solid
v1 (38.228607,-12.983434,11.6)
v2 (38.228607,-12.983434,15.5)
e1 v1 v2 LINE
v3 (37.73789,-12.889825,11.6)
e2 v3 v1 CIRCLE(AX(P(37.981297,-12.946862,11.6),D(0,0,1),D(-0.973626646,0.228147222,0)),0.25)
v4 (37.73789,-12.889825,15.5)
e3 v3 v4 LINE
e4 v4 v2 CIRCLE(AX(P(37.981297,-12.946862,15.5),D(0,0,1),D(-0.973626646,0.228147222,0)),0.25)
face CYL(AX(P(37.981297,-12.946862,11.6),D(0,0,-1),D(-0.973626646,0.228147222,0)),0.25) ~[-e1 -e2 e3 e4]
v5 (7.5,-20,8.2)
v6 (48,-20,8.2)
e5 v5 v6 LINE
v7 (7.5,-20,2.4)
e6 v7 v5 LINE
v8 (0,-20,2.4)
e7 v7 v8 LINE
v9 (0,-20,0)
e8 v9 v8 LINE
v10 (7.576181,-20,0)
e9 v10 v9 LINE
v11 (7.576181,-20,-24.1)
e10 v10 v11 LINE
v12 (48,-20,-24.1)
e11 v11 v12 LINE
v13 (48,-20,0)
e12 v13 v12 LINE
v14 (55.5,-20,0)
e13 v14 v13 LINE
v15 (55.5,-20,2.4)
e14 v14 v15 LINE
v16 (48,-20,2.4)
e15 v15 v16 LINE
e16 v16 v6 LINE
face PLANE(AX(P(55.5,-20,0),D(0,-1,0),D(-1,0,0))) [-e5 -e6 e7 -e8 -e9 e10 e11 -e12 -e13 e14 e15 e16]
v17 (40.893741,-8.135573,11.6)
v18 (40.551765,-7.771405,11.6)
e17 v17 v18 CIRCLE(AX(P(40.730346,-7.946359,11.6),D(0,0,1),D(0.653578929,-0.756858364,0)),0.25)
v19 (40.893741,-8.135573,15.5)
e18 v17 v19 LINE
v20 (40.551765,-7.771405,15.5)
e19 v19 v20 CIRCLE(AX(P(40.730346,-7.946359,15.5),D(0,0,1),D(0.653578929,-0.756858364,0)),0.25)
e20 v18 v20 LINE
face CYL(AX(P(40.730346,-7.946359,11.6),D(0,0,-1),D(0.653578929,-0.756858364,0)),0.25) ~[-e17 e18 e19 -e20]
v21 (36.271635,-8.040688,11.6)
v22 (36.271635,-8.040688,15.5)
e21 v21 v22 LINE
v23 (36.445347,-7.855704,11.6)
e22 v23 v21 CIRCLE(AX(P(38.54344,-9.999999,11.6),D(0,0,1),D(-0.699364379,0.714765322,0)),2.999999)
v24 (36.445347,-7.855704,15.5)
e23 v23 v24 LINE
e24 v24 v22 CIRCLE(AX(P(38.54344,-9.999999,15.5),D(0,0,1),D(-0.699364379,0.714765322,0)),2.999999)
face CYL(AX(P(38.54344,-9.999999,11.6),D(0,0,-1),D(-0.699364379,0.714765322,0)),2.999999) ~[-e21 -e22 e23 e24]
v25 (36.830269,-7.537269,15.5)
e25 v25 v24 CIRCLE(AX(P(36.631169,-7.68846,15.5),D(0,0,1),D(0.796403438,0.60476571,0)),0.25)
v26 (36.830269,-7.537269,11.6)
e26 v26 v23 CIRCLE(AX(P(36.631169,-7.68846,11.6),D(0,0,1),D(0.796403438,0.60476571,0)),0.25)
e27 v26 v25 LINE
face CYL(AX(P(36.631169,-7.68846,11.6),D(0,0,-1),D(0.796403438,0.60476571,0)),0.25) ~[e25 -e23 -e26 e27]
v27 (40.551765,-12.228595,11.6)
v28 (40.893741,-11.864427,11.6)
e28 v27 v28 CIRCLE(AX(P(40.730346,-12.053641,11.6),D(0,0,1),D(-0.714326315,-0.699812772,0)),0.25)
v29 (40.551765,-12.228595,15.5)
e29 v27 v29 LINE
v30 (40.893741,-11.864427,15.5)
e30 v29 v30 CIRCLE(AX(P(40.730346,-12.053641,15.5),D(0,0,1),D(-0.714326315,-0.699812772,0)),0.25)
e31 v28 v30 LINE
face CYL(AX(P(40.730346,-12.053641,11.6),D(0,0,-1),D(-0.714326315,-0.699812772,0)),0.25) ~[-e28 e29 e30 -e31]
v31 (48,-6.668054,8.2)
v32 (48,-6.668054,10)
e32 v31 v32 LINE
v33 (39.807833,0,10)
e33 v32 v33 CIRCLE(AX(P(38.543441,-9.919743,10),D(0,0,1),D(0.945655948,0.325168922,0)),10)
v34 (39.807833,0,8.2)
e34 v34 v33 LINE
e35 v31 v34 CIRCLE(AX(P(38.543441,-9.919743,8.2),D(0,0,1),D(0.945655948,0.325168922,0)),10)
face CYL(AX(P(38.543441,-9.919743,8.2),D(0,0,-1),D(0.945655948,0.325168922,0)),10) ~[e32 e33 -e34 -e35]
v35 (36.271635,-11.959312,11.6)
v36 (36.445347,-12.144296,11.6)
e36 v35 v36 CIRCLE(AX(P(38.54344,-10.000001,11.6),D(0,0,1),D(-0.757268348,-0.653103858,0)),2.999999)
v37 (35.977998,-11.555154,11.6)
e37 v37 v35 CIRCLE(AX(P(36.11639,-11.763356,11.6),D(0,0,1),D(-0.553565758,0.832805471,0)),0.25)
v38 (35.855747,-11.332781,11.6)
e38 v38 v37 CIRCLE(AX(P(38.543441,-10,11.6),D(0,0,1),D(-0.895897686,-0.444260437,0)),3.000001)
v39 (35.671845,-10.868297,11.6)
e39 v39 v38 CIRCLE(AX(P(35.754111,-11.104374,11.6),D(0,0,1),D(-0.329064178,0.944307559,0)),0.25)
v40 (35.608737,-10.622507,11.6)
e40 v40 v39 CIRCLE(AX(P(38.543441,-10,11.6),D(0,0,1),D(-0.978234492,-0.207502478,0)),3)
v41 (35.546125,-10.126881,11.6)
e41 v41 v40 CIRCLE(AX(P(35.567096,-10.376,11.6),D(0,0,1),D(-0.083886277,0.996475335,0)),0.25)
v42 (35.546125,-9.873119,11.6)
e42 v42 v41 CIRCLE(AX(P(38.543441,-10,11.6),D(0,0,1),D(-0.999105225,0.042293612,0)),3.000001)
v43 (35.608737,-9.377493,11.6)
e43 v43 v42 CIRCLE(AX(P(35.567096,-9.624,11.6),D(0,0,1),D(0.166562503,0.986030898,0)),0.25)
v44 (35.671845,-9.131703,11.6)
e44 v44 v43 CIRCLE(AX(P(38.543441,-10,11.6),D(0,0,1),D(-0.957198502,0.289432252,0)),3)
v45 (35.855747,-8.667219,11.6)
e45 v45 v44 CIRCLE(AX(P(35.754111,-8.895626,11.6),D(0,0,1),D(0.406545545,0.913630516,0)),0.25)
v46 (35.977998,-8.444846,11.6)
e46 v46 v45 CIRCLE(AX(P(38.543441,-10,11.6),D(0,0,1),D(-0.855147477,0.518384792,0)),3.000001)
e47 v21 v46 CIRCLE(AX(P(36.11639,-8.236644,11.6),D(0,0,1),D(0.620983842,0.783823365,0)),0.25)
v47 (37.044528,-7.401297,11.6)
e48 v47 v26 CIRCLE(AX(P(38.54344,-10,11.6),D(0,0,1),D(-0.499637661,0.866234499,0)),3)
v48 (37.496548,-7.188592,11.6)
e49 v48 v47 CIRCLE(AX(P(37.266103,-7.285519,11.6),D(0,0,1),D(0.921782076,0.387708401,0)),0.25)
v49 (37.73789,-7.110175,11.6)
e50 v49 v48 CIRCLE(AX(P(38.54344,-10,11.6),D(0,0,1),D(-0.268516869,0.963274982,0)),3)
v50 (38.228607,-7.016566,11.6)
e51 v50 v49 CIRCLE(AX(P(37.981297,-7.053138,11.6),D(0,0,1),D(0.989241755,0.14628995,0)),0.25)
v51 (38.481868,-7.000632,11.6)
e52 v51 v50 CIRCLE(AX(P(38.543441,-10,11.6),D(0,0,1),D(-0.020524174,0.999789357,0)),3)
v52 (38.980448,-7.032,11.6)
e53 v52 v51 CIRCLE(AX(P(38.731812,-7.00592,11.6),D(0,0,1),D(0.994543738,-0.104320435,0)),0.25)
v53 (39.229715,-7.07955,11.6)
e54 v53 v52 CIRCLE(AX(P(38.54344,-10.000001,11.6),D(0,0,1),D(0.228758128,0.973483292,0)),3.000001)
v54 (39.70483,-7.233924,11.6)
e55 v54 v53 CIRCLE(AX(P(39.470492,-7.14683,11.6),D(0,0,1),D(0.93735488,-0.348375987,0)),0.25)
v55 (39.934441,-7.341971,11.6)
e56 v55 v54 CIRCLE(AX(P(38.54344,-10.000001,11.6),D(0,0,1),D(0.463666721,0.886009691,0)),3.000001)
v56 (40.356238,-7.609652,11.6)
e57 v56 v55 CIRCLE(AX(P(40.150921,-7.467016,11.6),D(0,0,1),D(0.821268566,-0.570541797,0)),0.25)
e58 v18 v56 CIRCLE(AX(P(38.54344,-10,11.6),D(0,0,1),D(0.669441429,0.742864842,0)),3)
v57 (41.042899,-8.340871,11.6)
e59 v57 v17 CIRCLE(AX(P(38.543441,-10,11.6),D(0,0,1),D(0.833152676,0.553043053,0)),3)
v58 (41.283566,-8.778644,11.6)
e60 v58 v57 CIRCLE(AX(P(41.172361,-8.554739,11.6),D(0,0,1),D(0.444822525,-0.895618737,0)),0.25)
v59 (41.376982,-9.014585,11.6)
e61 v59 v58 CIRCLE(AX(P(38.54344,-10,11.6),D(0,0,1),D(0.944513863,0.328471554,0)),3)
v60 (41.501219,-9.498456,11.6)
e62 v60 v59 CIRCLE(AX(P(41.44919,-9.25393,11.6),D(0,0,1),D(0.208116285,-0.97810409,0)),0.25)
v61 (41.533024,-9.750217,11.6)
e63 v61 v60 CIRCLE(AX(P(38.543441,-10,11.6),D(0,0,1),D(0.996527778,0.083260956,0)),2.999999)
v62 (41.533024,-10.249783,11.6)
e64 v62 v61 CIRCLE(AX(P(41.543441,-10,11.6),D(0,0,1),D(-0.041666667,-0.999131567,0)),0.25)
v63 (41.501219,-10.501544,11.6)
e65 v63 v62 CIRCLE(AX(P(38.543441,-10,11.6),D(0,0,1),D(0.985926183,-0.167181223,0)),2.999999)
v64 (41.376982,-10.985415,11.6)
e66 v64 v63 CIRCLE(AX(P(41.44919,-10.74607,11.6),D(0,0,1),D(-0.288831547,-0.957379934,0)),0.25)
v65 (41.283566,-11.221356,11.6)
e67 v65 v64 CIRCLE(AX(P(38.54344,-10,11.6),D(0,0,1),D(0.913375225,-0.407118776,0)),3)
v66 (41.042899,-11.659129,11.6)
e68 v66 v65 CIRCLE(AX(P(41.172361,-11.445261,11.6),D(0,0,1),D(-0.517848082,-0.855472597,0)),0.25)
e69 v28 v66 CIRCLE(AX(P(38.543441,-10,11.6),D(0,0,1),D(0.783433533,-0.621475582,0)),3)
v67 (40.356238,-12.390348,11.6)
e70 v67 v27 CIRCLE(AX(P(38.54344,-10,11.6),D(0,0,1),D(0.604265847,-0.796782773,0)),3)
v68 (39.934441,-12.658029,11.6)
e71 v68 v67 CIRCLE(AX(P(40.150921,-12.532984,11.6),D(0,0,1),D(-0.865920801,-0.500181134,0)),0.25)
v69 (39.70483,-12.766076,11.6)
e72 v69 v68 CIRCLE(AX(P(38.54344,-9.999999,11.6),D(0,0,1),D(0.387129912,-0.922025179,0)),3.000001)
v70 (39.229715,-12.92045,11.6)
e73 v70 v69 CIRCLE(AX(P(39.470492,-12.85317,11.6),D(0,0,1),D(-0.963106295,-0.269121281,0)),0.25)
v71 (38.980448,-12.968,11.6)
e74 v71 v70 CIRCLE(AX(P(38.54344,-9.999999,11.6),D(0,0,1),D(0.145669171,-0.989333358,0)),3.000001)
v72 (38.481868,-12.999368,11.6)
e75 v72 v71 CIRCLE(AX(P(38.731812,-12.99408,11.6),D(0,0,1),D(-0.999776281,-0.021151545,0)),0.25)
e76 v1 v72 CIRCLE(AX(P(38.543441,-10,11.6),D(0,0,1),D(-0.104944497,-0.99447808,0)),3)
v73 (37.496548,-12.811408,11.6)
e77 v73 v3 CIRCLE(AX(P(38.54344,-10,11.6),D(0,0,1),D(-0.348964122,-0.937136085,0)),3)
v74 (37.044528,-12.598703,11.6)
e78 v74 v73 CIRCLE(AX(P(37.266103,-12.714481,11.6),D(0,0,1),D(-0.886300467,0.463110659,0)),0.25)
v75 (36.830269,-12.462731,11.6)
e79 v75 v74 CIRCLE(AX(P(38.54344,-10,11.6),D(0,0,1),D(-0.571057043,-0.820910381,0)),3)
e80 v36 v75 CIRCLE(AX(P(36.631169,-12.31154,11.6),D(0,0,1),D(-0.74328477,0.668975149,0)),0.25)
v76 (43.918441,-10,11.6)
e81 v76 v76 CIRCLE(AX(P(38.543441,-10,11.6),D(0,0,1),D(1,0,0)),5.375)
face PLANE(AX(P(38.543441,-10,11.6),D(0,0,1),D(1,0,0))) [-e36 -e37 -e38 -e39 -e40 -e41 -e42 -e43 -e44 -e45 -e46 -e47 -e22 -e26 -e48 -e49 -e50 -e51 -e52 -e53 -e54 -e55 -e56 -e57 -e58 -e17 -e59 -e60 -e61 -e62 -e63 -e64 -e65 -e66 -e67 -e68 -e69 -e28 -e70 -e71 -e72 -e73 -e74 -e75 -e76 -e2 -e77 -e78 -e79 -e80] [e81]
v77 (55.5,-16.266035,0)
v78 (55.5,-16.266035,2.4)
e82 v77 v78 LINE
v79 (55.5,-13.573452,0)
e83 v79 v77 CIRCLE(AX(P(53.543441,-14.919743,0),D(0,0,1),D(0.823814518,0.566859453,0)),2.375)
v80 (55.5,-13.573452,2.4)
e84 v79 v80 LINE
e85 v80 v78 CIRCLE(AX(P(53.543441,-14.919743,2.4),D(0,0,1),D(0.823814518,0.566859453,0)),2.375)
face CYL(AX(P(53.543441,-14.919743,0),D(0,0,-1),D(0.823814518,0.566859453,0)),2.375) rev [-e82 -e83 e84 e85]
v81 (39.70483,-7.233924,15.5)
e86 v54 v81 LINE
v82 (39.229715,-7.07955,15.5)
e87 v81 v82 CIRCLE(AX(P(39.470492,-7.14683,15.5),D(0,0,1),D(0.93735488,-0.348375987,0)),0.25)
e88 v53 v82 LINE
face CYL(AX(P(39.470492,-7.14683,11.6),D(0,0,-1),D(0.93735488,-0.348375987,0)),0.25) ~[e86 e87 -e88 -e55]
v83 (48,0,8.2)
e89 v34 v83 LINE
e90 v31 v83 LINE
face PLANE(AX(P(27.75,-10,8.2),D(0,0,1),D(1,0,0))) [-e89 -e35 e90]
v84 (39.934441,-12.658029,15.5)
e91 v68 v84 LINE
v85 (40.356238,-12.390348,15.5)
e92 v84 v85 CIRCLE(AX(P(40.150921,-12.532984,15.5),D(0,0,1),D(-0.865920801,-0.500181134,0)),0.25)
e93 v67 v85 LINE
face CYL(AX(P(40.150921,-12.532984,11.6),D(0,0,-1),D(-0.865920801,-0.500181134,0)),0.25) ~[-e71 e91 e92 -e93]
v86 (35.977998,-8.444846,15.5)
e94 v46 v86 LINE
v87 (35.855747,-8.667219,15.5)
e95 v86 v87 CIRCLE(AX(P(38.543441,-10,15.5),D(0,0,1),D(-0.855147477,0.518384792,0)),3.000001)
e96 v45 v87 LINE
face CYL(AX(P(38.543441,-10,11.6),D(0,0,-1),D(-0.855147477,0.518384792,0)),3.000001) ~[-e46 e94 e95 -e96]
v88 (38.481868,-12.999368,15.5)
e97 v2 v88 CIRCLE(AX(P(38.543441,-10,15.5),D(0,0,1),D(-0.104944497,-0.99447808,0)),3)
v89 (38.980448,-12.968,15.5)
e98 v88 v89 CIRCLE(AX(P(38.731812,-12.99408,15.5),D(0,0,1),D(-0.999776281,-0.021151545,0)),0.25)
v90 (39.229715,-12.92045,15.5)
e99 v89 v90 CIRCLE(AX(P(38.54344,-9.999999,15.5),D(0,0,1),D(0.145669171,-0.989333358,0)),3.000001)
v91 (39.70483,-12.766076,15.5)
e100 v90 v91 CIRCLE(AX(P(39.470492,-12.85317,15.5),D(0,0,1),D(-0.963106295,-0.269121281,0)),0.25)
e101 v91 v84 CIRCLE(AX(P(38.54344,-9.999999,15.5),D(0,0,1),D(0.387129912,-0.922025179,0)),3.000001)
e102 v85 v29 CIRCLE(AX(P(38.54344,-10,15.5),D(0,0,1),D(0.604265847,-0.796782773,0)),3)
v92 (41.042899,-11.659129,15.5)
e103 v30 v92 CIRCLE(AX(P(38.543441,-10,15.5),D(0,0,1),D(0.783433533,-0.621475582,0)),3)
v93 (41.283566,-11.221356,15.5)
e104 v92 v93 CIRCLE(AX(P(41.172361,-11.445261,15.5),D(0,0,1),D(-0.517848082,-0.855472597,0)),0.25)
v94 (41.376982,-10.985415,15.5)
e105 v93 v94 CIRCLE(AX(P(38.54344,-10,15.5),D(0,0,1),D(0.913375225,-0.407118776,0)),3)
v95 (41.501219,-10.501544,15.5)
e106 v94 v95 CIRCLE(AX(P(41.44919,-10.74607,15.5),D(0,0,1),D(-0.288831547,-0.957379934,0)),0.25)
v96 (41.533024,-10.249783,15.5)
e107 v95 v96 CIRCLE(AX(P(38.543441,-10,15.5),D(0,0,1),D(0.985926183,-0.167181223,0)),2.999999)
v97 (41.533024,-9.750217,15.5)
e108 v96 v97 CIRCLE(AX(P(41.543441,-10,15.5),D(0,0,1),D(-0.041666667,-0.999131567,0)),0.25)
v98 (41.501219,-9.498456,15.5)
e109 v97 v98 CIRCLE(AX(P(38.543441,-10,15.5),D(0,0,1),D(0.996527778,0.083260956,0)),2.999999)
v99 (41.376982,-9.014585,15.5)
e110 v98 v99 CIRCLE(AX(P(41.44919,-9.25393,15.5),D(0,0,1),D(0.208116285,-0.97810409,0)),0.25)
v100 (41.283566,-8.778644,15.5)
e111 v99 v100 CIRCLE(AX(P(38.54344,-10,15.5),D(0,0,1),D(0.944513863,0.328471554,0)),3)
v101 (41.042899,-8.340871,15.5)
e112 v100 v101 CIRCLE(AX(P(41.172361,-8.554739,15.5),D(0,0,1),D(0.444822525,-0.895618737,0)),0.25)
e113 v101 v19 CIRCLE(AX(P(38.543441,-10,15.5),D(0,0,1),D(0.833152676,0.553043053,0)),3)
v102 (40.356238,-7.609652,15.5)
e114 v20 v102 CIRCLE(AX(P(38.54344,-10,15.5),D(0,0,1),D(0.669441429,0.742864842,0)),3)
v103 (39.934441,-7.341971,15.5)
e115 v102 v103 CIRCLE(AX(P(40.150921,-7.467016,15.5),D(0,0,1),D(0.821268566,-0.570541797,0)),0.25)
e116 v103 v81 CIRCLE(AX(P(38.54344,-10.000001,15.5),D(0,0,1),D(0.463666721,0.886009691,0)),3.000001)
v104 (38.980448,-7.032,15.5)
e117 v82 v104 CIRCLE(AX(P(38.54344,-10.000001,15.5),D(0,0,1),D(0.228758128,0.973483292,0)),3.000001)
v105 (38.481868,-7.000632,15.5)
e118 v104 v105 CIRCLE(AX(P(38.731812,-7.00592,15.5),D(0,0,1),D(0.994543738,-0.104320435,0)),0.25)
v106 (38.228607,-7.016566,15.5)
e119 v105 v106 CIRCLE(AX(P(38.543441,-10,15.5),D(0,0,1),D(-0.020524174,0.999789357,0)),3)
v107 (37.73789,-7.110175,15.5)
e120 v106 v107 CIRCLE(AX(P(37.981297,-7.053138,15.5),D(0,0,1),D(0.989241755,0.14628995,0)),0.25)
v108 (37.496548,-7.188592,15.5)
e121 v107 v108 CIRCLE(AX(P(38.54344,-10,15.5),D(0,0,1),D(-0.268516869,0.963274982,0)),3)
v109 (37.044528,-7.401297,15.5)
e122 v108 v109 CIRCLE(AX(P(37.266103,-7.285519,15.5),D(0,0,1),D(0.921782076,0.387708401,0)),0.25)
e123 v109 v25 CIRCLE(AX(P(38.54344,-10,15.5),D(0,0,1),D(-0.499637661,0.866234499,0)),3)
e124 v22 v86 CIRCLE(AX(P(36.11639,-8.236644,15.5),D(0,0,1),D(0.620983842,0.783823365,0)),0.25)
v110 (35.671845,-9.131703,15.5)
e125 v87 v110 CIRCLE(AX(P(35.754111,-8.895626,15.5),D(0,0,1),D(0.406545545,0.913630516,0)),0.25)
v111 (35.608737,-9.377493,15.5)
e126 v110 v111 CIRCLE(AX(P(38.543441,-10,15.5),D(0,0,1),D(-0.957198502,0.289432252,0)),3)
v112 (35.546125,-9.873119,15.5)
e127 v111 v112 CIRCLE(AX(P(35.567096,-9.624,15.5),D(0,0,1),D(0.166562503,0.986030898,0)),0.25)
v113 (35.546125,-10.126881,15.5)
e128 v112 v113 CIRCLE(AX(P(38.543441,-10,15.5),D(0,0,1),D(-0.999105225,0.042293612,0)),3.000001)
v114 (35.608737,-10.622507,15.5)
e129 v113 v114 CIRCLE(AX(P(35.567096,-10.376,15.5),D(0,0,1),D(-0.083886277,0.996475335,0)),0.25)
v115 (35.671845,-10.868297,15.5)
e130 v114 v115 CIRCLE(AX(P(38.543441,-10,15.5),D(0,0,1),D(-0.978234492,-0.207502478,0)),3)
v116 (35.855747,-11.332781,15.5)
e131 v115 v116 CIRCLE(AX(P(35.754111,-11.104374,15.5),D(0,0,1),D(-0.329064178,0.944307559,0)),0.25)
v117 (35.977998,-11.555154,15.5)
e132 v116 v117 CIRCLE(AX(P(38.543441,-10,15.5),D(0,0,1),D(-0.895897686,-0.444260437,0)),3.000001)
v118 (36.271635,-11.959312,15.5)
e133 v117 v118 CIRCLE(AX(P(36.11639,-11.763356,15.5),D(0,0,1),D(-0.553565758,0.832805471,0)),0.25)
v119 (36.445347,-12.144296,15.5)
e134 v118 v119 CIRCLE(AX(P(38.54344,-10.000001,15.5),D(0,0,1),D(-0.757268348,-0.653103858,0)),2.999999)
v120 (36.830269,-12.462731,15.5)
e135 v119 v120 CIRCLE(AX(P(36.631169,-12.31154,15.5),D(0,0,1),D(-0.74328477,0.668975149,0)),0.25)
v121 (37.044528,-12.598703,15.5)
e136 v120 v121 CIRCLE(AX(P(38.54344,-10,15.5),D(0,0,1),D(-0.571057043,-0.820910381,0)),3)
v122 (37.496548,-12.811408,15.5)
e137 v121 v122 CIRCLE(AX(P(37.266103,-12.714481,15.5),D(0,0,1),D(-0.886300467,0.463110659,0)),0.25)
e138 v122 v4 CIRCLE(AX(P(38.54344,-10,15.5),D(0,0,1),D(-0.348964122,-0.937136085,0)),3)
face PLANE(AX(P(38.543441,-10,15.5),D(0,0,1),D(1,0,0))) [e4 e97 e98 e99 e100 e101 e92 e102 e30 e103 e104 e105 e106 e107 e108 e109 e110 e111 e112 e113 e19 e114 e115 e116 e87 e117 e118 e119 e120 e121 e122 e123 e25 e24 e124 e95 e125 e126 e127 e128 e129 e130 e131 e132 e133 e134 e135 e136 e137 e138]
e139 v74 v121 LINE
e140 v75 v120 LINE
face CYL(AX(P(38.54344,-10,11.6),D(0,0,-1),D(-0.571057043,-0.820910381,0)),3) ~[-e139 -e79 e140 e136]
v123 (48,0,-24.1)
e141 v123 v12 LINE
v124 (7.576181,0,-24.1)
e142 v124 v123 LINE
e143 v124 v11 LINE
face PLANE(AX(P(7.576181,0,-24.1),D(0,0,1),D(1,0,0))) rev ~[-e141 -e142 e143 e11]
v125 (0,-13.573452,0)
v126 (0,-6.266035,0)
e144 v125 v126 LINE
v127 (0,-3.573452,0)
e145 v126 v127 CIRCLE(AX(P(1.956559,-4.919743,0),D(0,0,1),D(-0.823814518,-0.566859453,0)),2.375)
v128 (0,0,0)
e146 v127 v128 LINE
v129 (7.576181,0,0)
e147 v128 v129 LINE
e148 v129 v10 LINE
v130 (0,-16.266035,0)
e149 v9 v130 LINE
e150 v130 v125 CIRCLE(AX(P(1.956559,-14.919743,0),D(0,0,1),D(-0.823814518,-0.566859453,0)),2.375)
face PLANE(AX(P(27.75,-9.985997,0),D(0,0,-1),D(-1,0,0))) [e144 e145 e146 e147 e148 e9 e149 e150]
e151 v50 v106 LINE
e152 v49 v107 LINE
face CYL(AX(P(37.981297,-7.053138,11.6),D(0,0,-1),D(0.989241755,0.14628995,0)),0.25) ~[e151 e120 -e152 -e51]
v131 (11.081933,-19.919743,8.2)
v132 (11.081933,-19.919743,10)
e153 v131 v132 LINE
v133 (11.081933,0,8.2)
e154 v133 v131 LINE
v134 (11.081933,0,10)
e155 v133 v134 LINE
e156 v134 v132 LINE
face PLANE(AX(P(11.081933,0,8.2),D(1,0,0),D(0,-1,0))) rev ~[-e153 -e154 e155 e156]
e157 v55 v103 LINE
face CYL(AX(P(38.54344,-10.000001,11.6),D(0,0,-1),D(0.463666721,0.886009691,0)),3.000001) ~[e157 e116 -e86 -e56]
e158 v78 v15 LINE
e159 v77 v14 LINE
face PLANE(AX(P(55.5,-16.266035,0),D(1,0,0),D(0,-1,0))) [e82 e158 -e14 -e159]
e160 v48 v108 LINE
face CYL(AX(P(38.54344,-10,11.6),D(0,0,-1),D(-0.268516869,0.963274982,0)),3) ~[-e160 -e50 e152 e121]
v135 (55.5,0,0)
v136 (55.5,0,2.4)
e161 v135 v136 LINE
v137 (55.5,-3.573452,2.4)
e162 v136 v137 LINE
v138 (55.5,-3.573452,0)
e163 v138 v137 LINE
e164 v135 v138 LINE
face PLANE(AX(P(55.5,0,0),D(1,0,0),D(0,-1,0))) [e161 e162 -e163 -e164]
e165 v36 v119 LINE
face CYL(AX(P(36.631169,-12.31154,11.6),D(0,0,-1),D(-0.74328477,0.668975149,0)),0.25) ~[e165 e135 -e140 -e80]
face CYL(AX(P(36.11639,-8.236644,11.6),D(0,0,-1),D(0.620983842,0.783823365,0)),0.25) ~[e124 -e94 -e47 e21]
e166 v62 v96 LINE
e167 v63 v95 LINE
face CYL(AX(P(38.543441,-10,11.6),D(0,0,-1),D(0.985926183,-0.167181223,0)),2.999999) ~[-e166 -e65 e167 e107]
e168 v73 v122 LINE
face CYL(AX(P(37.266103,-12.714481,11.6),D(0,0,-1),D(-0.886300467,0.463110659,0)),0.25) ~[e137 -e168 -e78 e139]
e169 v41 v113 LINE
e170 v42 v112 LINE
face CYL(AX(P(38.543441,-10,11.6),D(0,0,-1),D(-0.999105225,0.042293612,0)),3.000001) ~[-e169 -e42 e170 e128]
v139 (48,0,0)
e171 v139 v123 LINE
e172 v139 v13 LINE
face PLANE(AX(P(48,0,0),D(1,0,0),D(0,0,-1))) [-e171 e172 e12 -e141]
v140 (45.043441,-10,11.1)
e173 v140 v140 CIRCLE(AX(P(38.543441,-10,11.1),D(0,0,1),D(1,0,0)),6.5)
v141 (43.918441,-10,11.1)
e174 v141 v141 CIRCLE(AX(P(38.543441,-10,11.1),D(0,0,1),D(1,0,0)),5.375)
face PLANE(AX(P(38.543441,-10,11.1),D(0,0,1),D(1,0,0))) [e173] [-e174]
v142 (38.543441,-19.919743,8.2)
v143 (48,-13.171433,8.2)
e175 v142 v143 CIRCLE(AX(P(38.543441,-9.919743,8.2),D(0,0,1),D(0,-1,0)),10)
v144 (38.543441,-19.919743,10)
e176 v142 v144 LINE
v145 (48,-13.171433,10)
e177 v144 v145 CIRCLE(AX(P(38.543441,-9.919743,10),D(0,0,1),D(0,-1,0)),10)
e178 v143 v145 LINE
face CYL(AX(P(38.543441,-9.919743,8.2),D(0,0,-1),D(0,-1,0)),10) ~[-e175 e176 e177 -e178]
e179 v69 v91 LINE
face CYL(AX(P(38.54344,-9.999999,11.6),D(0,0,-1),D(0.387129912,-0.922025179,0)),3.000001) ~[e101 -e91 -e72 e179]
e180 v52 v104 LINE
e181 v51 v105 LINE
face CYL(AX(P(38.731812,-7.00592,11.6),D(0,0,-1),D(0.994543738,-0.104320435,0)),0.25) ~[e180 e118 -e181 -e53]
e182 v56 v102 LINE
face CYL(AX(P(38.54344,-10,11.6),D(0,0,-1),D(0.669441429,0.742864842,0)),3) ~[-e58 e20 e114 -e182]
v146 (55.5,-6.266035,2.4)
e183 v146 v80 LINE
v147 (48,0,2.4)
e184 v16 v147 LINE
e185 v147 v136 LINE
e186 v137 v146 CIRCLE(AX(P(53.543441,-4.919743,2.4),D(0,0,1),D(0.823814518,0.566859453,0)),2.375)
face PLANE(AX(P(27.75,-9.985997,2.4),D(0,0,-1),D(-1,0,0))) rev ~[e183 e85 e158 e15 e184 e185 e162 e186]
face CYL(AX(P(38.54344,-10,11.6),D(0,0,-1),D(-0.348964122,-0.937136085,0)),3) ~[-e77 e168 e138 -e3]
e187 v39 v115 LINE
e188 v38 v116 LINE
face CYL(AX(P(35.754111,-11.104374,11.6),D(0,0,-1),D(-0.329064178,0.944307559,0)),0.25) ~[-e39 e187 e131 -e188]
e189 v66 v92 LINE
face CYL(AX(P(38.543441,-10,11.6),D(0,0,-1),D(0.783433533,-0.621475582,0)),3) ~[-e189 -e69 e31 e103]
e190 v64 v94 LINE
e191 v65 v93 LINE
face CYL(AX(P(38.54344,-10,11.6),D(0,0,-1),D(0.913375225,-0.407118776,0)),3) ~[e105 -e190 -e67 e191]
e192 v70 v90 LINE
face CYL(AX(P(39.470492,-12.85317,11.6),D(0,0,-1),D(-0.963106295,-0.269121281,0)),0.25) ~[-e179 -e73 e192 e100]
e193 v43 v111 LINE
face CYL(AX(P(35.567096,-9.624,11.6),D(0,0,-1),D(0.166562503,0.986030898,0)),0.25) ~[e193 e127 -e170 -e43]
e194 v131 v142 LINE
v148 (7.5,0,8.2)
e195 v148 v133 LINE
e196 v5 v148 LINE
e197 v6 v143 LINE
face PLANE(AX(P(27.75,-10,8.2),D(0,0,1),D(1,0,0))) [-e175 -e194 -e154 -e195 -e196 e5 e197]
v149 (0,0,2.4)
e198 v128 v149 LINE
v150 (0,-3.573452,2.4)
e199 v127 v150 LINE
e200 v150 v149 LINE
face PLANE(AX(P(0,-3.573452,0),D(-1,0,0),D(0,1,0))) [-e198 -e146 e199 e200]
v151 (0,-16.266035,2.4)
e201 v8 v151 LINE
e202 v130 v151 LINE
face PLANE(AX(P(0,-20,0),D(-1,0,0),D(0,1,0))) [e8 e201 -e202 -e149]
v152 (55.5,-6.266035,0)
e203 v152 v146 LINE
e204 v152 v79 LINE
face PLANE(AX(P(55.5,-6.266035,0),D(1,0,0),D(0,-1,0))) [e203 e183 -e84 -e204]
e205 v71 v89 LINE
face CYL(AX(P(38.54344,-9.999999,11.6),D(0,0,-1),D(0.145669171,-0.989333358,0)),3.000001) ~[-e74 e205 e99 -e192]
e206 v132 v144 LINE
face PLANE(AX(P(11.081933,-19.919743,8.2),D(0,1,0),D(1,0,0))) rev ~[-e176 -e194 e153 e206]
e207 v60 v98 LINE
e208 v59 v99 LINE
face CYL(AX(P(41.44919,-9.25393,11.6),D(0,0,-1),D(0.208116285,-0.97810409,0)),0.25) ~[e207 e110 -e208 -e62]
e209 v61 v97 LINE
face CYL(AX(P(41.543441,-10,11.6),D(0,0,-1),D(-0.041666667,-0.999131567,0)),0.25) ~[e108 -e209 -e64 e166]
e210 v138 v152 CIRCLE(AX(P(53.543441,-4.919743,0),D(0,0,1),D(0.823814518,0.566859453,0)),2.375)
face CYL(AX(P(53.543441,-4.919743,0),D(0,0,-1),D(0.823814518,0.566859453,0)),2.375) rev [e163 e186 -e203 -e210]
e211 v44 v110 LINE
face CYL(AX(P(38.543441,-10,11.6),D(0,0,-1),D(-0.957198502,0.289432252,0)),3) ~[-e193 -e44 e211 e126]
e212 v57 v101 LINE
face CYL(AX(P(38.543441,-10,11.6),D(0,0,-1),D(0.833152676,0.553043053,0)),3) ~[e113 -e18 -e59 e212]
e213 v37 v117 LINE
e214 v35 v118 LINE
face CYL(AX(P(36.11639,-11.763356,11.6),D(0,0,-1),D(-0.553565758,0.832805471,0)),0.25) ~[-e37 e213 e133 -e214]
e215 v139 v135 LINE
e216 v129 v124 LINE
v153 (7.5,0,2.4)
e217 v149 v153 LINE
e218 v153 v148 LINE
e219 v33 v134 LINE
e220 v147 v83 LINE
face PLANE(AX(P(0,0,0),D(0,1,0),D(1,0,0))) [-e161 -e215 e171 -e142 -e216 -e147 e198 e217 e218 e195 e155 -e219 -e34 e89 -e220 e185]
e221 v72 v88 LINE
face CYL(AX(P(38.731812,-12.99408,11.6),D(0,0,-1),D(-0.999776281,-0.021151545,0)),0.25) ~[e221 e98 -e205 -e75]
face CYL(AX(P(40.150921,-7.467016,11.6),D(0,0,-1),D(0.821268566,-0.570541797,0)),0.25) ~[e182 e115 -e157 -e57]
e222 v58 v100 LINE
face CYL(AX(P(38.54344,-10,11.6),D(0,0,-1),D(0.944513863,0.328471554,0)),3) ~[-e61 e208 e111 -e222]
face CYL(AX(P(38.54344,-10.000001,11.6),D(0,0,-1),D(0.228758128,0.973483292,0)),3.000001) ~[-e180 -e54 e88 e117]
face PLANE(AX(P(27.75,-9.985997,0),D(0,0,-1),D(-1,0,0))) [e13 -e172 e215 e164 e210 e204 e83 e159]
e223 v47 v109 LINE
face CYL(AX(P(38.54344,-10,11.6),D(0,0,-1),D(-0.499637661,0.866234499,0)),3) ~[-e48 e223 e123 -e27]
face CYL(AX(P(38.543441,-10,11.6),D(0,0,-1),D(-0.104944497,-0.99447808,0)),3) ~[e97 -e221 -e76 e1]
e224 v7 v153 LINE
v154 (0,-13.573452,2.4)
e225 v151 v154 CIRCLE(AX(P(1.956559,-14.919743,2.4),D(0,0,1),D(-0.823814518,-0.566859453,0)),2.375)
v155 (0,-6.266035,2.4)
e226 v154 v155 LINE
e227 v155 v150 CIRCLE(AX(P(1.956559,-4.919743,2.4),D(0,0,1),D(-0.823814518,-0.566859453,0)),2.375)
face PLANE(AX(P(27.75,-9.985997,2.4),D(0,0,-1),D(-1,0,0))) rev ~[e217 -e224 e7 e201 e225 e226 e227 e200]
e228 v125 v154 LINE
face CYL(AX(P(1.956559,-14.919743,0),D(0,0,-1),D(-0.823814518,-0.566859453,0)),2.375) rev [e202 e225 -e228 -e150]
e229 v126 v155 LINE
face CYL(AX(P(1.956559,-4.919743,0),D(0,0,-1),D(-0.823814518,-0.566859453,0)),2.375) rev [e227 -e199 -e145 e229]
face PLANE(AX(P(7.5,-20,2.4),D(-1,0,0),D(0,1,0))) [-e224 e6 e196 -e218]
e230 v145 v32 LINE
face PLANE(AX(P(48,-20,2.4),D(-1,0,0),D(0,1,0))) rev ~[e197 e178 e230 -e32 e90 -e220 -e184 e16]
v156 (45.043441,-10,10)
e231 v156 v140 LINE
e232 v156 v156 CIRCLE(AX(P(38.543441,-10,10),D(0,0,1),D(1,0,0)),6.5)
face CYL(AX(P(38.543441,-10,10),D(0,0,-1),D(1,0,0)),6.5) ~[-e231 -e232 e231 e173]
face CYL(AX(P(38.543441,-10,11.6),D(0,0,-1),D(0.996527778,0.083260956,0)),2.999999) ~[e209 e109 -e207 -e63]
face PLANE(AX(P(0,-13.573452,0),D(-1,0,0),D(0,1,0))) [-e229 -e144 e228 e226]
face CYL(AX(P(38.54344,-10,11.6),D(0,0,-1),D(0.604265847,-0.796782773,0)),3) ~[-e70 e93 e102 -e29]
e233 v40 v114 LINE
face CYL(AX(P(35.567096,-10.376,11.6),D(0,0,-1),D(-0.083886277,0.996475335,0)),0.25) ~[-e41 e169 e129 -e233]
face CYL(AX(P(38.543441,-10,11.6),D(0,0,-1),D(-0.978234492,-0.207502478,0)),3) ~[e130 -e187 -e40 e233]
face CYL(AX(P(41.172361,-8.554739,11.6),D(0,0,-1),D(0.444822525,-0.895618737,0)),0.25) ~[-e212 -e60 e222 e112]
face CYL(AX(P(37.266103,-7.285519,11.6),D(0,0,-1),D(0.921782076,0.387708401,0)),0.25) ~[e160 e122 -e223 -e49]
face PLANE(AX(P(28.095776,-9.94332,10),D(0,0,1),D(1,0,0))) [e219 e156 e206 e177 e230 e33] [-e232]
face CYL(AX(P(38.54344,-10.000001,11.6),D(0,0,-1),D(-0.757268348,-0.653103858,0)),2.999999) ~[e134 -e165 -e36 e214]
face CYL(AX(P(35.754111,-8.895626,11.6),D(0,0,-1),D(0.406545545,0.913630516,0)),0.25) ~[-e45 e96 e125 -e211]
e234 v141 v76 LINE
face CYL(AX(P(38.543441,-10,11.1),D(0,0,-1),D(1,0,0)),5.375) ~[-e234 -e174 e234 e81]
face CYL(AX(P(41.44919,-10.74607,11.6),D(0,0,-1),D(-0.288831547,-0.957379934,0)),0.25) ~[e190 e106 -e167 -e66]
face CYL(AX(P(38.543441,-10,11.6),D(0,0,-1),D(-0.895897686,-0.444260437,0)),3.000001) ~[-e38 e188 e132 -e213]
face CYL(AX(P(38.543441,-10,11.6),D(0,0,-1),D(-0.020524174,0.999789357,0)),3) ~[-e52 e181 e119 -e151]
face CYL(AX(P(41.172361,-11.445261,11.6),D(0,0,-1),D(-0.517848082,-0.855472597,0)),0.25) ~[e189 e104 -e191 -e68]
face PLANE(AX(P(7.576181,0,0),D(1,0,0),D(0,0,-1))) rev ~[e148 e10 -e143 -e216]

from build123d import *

# Parameters (mm, degrees)
AUFSATZ_LINEAR_AUSTRAGEN1_DEPTH = 2.4
SKIZZE3_W                       = 40.5
SKIZZE3_H                       = 20
AUFSATZ_LINEAR_AUSTRAGEN2_DEPTH = 5.8
AUFSATZ_LINEAR_AUSTRAGEN3_DEPTH = 1.8
SKIZZE5_R                       = 6.5
AUFSATZ_LINEAR_AUSTRAGEN4_DEPTH = 1.1
SKIZZE7_R                       = 5.375
AUFSATZ_LINEAR_AUSTRAGEN6_DEPTH = 0.5
AUFSATZ_LINEAR_AUSTRAGEN7_DEPTH = 3.9
SKIZZE9_W                       = 40.423818814
SKIZZE9_H                       = 24.1
AUFSATZ_LINEAR_AUSTRAGEN8_DEPTH = 20


with BuildPart() as part:
    # Skizze1 → Aufsatz-Linear austragen1 (new body)
    with BuildSketch(Plane.XY):
        with BuildLine():
            Line((0, 0), (55.5, 0))
            Line((55.5, 0), (55.5, -3.573452275))
            ThreePointArc((55.5, -3.573452275), (51.16844052, -4.919743477), (55.5, -6.266034679))
            Line((55.5, -6.266034679), (55.5, -13.573452275))
            ThreePointArc((55.5, -13.573452275), (51.16844052, -14.919743477), (55.5, -16.266034679))
            Line((55.5, -16.266034679), (55.5, -20))
            Line((55.5, -20), (0, -20))
            Line((0, -20), (0, -16.266034679))
            ThreePointArc((0, -16.266034679), (4.33155948, -14.919743477), (0, -13.573452275))
            Line((0, -13.573452275), (0, -6.266034679))
            ThreePointArc((0, -6.266034679), (4.33155948, -4.919743477), (0, -3.573452275))
            Line((0, -3.573452275), (0, 0))
        make_face()
    extrude(amount=AUFSATZ_LINEAR_AUSTRAGEN1_DEPTH)

    # Skizze3 → Aufsatz-Linear austragen2 (add)
    with BuildSketch(Plane.XY.offset(2.4)):
        with Locations((27.75, -10)):
            Rectangle(SKIZZE3_W, SKIZZE3_H)
    extrude(amount=AUFSATZ_LINEAR_AUSTRAGEN2_DEPTH)

    # Skizze4 → Aufsatz-Linear austragen3 (add)
    with BuildSketch(Plane.XY.offset(8.2)):
        with BuildLine():
            Line((37.279047641, 0), (11.081933488, 0))
            Line((11.081933488, 0), (11.081933488, -19.919743477))
            Line((11.081933488, -19.919743477), (38.54344052, -19.919743477))
            ThreePointArc((38.54344052, -19.919743477), (44.352188568, -18.059672599), (48, -13.171432699))
            Line((48, -13.171432699), (48, -6.668054255))
            ThreePointArc((48, -6.668054255), (44.85616115, -2.16412885), (39.807833399, 0))
            Line((39.807833399, 0), (38.54344052, 0))
            Line((38.54344052, 0), (37.279047641, 0))
        make_face()
    extrude(amount=AUFSATZ_LINEAR_AUSTRAGEN3_DEPTH)

    # Skizze5 → Aufsatz-Linear austragen4 (add)
    with BuildSketch(Plane.XY.offset(10)):
        with Locations((38.54344052, -10)):
            Circle(SKIZZE5_R)
    extrude(amount=AUFSATZ_LINEAR_AUSTRAGEN4_DEPTH)

    # Skizze7 → Aufsatz-Linear austragen6 (add)
    with BuildSketch(Plane.XY.offset(11.1)):
        with Locations((38.54344052, -10)):
            Circle(SKIZZE7_R)
    extrude(amount=AUFSATZ_LINEAR_AUSTRAGEN6_DEPTH)

    # Skizze8 → Aufsatz-Linear austragen7 (add)
    with BuildSketch(Plane.XY.offset(11.6)):
        with BuildLine():
            ThreePointArc((41.283566191, -11.221356338), (41.332769977, -11.104373658), (41.376982116, -10.985414645))
            ThreePointArc((41.376982116, -10.985414645), (41.691335793, -10.808242133), (41.501219074, -10.501543639))
            ThreePointArc((41.501219074, -10.501543639), (41.519784624, -10.375999701), (41.533023853, -10.249782892))
            ThreePointArc((41.533023853, -10.249782892), (41.79344052, -10), (41.533023853, -9.750217108))
            ThreePointArc((41.533023853, -9.750217108), (41.519784624, -9.624000299), (41.501219074, -9.498456361))
            ThreePointArc((41.501219074, -9.498456361), (41.691335793, -9.191757867), (41.376982116, -9.014585355))
            ThreePointArc((41.376982116, -9.014585355), (41.332769977, -8.895626342), (41.283566191, -8.778643662))
            ThreePointArc((41.283566191, -8.778643662), (41.39143723, -8.434300559), (41.042898539, -8.340870828))
            ThreePointArc((41.042898539, -8.340870828), (40.970491503, -8.236644243), (40.893741134, -8.135573273))
            ThreePointArc((40.893741134, -8.135573273), (40.912588559, -7.775221906), (40.551764823, -7.771405489))
            ThreePointArc((40.551764823, -7.771405489), (40.455712489, -7.688460272), (40.356238046, -7.609651672))
            ThreePointArc((40.356238046, -7.609651672), (40.284877603, -7.255934242), (39.934440705, -7.34197094))
            ThreePointArc((39.934440705, -7.34197094), (39.820778394, -7.285518843), (39.704830223, -7.233924448))
            ThreePointArc((39.704830223, -7.233924448), (39.547745751, -6.909066322), (39.229714929, -7.079550131))
            ThreePointArc((39.229714929, -7.079550131), (39.105584463, -7.053138248), (38.980448013, -7.031999924))
            ThreePointArc((38.980448013, -7.031999924), (38.747509708, -6.756413133), (38.481868008, -7.000631929))
            ThreePointArc((38.481868008, -7.000631929), (38.355068961, -7.005919815), (38.228607015, -7.01656576))
            ThreePointArc((38.228607015, -7.01656576), (37.934451247, -6.807566435), (37.737889915, -7.110175053))
            ThreePointArc((37.737889915, -7.110175053), (37.616389537, -7.146830451), (37.496548164, -7.188591742))
            ThreePointArc((37.496548164, -7.188591742), (37.159657822, -7.059312079), (37.044527528, -7.401296507))
            ThreePointArc((37.044527528, -7.401296507), (36.935960135, -7.467016223), (36.83026941, -7.537268844))
            ThreePointArc((36.83026941, -7.537268844), (36.471812553, -7.495831961), (36.445347358, -7.855704059))
            ThreePointArc((36.445347358, -7.855704059), (36.356534637, -7.946358682), (36.271635497, -8.040688402))
            ThreePointArc((36.271635497, -8.040688402), (35.914135288, -8.08969793), (35.977998097, -8.444845611))
            ThreePointArc((35.977998097, -8.444845611), (35.91452048, -8.554738978), (35.855747449, -8.667218713))
            ThreePointArc((35.855747449, -8.667218713), (35.521666941, -8.803595204), (35.671845018, -9.131703232))
            ThreePointArc((35.671845018, -9.131703232), (35.637691036, -9.253930339), (35.608737041, -9.377492575))
            ThreePointArc((35.608737041, -9.377492575), (35.31906774, -9.592666991), (35.546124846, -9.873119133))
            ThreePointArc((35.546124846, -9.873119133), (35.54344052, -10), (35.546124846, -10.126880867))
            ThreePointArc((35.546124846, -10.126880867), (35.31906774, -10.407333009), (35.608737041, -10.622507425))
            ThreePointArc((35.608737041, -10.622507425), (35.637691036, -10.746069661), (35.671845018, -10.868296768))
            ThreePointArc((35.671845018, -10.868296768), (35.521666941, -11.196404796), (35.855747449, -11.332781287))
            ThreePointArc((35.855747449, -11.332781287), (35.91452048, -11.445261022), (35.977998097, -11.555154389))
            ThreePointArc((35.977998097, -11.555154389), (35.914135288, -11.91030207), (36.271635497, -11.959311598))
            ThreePointArc((36.271635497, -11.959311598), (36.356534637, -12.053641318), (36.445347358, -12.144295941))
            ThreePointArc((36.445347358, -12.144295941), (36.471812553, -12.504168039), (36.83026941, -12.462731156))
            ThreePointArc((36.83026941, -12.462731156), (36.935960135, -12.532983777), (37.044527528, -12.598703493))
            ThreePointArc((37.044527528, -12.598703493), (37.159657822, -12.940687921), (37.496548164, -12.811408258))
            ThreePointArc((37.496548164, -12.811408258), (37.616389537, -12.853169549), (37.737889915, -12.889824947))
            ThreePointArc((37.737889915, -12.889824947), (37.934451247, -13.192433565), (38.228607015, -12.98343424))
            ThreePointArc((38.228607015, -12.98343424), (38.355068961, -12.994080185), (38.481868008, -12.999368071))
            ThreePointArc((38.481868008, -12.999368071), (38.747509708, -13.243586867), (38.980448013, -12.968000076))
            ThreePointArc((38.980448013, -12.968000076), (39.105584463, -12.946861752), (39.229714929, -12.920449869))
            ThreePointArc((39.229714929, -12.920449869), (39.547745751, -13.090933678), (39.704830223, -12.766075552))
            ThreePointArc((39.704830223, -12.766075552), (39.820778394, -12.714481157), (39.934440705, -12.65802906))
            ThreePointArc((39.934440705, -12.65802906), (40.284877603, -12.744065758), (40.356238046, -12.390348328))
            ThreePointArc((40.356238046, -12.390348328), (40.455712489, -12.311539728), (40.551764823, -12.228594511))
            ThreePointArc((40.551764823, -12.228594511), (40.912588559, -12.224778094), (40.893741134, -11.864426727))
            ThreePointArc((40.893741134, -11.864426727), (40.970491503, -11.763355757), (41.042898539, -11.659129172))
            ThreePointArc((41.042898539, -11.659129172), (41.39143723, -11.565699441), (41.283566191, -11.221356338))
        make_face()
    extrude(amount=AUFSATZ_LINEAR_AUSTRAGEN7_DEPTH)

    # Skizze9 → Aufsatz-Linear austragen8 (add)
    with BuildSketch(Plane(origin=(0, 0, 0), x_dir=(1, 0, 0), z_dir=(0, 1, 0))):
        with Locations((27.788090593, 12.05)):
            Rectangle(SKIZZE9_W, SKIZZE9_H)
    extrude(amount=-AUFSATZ_LINEAR_AUSTRAGEN8_DEPTH)


solid = part.part
